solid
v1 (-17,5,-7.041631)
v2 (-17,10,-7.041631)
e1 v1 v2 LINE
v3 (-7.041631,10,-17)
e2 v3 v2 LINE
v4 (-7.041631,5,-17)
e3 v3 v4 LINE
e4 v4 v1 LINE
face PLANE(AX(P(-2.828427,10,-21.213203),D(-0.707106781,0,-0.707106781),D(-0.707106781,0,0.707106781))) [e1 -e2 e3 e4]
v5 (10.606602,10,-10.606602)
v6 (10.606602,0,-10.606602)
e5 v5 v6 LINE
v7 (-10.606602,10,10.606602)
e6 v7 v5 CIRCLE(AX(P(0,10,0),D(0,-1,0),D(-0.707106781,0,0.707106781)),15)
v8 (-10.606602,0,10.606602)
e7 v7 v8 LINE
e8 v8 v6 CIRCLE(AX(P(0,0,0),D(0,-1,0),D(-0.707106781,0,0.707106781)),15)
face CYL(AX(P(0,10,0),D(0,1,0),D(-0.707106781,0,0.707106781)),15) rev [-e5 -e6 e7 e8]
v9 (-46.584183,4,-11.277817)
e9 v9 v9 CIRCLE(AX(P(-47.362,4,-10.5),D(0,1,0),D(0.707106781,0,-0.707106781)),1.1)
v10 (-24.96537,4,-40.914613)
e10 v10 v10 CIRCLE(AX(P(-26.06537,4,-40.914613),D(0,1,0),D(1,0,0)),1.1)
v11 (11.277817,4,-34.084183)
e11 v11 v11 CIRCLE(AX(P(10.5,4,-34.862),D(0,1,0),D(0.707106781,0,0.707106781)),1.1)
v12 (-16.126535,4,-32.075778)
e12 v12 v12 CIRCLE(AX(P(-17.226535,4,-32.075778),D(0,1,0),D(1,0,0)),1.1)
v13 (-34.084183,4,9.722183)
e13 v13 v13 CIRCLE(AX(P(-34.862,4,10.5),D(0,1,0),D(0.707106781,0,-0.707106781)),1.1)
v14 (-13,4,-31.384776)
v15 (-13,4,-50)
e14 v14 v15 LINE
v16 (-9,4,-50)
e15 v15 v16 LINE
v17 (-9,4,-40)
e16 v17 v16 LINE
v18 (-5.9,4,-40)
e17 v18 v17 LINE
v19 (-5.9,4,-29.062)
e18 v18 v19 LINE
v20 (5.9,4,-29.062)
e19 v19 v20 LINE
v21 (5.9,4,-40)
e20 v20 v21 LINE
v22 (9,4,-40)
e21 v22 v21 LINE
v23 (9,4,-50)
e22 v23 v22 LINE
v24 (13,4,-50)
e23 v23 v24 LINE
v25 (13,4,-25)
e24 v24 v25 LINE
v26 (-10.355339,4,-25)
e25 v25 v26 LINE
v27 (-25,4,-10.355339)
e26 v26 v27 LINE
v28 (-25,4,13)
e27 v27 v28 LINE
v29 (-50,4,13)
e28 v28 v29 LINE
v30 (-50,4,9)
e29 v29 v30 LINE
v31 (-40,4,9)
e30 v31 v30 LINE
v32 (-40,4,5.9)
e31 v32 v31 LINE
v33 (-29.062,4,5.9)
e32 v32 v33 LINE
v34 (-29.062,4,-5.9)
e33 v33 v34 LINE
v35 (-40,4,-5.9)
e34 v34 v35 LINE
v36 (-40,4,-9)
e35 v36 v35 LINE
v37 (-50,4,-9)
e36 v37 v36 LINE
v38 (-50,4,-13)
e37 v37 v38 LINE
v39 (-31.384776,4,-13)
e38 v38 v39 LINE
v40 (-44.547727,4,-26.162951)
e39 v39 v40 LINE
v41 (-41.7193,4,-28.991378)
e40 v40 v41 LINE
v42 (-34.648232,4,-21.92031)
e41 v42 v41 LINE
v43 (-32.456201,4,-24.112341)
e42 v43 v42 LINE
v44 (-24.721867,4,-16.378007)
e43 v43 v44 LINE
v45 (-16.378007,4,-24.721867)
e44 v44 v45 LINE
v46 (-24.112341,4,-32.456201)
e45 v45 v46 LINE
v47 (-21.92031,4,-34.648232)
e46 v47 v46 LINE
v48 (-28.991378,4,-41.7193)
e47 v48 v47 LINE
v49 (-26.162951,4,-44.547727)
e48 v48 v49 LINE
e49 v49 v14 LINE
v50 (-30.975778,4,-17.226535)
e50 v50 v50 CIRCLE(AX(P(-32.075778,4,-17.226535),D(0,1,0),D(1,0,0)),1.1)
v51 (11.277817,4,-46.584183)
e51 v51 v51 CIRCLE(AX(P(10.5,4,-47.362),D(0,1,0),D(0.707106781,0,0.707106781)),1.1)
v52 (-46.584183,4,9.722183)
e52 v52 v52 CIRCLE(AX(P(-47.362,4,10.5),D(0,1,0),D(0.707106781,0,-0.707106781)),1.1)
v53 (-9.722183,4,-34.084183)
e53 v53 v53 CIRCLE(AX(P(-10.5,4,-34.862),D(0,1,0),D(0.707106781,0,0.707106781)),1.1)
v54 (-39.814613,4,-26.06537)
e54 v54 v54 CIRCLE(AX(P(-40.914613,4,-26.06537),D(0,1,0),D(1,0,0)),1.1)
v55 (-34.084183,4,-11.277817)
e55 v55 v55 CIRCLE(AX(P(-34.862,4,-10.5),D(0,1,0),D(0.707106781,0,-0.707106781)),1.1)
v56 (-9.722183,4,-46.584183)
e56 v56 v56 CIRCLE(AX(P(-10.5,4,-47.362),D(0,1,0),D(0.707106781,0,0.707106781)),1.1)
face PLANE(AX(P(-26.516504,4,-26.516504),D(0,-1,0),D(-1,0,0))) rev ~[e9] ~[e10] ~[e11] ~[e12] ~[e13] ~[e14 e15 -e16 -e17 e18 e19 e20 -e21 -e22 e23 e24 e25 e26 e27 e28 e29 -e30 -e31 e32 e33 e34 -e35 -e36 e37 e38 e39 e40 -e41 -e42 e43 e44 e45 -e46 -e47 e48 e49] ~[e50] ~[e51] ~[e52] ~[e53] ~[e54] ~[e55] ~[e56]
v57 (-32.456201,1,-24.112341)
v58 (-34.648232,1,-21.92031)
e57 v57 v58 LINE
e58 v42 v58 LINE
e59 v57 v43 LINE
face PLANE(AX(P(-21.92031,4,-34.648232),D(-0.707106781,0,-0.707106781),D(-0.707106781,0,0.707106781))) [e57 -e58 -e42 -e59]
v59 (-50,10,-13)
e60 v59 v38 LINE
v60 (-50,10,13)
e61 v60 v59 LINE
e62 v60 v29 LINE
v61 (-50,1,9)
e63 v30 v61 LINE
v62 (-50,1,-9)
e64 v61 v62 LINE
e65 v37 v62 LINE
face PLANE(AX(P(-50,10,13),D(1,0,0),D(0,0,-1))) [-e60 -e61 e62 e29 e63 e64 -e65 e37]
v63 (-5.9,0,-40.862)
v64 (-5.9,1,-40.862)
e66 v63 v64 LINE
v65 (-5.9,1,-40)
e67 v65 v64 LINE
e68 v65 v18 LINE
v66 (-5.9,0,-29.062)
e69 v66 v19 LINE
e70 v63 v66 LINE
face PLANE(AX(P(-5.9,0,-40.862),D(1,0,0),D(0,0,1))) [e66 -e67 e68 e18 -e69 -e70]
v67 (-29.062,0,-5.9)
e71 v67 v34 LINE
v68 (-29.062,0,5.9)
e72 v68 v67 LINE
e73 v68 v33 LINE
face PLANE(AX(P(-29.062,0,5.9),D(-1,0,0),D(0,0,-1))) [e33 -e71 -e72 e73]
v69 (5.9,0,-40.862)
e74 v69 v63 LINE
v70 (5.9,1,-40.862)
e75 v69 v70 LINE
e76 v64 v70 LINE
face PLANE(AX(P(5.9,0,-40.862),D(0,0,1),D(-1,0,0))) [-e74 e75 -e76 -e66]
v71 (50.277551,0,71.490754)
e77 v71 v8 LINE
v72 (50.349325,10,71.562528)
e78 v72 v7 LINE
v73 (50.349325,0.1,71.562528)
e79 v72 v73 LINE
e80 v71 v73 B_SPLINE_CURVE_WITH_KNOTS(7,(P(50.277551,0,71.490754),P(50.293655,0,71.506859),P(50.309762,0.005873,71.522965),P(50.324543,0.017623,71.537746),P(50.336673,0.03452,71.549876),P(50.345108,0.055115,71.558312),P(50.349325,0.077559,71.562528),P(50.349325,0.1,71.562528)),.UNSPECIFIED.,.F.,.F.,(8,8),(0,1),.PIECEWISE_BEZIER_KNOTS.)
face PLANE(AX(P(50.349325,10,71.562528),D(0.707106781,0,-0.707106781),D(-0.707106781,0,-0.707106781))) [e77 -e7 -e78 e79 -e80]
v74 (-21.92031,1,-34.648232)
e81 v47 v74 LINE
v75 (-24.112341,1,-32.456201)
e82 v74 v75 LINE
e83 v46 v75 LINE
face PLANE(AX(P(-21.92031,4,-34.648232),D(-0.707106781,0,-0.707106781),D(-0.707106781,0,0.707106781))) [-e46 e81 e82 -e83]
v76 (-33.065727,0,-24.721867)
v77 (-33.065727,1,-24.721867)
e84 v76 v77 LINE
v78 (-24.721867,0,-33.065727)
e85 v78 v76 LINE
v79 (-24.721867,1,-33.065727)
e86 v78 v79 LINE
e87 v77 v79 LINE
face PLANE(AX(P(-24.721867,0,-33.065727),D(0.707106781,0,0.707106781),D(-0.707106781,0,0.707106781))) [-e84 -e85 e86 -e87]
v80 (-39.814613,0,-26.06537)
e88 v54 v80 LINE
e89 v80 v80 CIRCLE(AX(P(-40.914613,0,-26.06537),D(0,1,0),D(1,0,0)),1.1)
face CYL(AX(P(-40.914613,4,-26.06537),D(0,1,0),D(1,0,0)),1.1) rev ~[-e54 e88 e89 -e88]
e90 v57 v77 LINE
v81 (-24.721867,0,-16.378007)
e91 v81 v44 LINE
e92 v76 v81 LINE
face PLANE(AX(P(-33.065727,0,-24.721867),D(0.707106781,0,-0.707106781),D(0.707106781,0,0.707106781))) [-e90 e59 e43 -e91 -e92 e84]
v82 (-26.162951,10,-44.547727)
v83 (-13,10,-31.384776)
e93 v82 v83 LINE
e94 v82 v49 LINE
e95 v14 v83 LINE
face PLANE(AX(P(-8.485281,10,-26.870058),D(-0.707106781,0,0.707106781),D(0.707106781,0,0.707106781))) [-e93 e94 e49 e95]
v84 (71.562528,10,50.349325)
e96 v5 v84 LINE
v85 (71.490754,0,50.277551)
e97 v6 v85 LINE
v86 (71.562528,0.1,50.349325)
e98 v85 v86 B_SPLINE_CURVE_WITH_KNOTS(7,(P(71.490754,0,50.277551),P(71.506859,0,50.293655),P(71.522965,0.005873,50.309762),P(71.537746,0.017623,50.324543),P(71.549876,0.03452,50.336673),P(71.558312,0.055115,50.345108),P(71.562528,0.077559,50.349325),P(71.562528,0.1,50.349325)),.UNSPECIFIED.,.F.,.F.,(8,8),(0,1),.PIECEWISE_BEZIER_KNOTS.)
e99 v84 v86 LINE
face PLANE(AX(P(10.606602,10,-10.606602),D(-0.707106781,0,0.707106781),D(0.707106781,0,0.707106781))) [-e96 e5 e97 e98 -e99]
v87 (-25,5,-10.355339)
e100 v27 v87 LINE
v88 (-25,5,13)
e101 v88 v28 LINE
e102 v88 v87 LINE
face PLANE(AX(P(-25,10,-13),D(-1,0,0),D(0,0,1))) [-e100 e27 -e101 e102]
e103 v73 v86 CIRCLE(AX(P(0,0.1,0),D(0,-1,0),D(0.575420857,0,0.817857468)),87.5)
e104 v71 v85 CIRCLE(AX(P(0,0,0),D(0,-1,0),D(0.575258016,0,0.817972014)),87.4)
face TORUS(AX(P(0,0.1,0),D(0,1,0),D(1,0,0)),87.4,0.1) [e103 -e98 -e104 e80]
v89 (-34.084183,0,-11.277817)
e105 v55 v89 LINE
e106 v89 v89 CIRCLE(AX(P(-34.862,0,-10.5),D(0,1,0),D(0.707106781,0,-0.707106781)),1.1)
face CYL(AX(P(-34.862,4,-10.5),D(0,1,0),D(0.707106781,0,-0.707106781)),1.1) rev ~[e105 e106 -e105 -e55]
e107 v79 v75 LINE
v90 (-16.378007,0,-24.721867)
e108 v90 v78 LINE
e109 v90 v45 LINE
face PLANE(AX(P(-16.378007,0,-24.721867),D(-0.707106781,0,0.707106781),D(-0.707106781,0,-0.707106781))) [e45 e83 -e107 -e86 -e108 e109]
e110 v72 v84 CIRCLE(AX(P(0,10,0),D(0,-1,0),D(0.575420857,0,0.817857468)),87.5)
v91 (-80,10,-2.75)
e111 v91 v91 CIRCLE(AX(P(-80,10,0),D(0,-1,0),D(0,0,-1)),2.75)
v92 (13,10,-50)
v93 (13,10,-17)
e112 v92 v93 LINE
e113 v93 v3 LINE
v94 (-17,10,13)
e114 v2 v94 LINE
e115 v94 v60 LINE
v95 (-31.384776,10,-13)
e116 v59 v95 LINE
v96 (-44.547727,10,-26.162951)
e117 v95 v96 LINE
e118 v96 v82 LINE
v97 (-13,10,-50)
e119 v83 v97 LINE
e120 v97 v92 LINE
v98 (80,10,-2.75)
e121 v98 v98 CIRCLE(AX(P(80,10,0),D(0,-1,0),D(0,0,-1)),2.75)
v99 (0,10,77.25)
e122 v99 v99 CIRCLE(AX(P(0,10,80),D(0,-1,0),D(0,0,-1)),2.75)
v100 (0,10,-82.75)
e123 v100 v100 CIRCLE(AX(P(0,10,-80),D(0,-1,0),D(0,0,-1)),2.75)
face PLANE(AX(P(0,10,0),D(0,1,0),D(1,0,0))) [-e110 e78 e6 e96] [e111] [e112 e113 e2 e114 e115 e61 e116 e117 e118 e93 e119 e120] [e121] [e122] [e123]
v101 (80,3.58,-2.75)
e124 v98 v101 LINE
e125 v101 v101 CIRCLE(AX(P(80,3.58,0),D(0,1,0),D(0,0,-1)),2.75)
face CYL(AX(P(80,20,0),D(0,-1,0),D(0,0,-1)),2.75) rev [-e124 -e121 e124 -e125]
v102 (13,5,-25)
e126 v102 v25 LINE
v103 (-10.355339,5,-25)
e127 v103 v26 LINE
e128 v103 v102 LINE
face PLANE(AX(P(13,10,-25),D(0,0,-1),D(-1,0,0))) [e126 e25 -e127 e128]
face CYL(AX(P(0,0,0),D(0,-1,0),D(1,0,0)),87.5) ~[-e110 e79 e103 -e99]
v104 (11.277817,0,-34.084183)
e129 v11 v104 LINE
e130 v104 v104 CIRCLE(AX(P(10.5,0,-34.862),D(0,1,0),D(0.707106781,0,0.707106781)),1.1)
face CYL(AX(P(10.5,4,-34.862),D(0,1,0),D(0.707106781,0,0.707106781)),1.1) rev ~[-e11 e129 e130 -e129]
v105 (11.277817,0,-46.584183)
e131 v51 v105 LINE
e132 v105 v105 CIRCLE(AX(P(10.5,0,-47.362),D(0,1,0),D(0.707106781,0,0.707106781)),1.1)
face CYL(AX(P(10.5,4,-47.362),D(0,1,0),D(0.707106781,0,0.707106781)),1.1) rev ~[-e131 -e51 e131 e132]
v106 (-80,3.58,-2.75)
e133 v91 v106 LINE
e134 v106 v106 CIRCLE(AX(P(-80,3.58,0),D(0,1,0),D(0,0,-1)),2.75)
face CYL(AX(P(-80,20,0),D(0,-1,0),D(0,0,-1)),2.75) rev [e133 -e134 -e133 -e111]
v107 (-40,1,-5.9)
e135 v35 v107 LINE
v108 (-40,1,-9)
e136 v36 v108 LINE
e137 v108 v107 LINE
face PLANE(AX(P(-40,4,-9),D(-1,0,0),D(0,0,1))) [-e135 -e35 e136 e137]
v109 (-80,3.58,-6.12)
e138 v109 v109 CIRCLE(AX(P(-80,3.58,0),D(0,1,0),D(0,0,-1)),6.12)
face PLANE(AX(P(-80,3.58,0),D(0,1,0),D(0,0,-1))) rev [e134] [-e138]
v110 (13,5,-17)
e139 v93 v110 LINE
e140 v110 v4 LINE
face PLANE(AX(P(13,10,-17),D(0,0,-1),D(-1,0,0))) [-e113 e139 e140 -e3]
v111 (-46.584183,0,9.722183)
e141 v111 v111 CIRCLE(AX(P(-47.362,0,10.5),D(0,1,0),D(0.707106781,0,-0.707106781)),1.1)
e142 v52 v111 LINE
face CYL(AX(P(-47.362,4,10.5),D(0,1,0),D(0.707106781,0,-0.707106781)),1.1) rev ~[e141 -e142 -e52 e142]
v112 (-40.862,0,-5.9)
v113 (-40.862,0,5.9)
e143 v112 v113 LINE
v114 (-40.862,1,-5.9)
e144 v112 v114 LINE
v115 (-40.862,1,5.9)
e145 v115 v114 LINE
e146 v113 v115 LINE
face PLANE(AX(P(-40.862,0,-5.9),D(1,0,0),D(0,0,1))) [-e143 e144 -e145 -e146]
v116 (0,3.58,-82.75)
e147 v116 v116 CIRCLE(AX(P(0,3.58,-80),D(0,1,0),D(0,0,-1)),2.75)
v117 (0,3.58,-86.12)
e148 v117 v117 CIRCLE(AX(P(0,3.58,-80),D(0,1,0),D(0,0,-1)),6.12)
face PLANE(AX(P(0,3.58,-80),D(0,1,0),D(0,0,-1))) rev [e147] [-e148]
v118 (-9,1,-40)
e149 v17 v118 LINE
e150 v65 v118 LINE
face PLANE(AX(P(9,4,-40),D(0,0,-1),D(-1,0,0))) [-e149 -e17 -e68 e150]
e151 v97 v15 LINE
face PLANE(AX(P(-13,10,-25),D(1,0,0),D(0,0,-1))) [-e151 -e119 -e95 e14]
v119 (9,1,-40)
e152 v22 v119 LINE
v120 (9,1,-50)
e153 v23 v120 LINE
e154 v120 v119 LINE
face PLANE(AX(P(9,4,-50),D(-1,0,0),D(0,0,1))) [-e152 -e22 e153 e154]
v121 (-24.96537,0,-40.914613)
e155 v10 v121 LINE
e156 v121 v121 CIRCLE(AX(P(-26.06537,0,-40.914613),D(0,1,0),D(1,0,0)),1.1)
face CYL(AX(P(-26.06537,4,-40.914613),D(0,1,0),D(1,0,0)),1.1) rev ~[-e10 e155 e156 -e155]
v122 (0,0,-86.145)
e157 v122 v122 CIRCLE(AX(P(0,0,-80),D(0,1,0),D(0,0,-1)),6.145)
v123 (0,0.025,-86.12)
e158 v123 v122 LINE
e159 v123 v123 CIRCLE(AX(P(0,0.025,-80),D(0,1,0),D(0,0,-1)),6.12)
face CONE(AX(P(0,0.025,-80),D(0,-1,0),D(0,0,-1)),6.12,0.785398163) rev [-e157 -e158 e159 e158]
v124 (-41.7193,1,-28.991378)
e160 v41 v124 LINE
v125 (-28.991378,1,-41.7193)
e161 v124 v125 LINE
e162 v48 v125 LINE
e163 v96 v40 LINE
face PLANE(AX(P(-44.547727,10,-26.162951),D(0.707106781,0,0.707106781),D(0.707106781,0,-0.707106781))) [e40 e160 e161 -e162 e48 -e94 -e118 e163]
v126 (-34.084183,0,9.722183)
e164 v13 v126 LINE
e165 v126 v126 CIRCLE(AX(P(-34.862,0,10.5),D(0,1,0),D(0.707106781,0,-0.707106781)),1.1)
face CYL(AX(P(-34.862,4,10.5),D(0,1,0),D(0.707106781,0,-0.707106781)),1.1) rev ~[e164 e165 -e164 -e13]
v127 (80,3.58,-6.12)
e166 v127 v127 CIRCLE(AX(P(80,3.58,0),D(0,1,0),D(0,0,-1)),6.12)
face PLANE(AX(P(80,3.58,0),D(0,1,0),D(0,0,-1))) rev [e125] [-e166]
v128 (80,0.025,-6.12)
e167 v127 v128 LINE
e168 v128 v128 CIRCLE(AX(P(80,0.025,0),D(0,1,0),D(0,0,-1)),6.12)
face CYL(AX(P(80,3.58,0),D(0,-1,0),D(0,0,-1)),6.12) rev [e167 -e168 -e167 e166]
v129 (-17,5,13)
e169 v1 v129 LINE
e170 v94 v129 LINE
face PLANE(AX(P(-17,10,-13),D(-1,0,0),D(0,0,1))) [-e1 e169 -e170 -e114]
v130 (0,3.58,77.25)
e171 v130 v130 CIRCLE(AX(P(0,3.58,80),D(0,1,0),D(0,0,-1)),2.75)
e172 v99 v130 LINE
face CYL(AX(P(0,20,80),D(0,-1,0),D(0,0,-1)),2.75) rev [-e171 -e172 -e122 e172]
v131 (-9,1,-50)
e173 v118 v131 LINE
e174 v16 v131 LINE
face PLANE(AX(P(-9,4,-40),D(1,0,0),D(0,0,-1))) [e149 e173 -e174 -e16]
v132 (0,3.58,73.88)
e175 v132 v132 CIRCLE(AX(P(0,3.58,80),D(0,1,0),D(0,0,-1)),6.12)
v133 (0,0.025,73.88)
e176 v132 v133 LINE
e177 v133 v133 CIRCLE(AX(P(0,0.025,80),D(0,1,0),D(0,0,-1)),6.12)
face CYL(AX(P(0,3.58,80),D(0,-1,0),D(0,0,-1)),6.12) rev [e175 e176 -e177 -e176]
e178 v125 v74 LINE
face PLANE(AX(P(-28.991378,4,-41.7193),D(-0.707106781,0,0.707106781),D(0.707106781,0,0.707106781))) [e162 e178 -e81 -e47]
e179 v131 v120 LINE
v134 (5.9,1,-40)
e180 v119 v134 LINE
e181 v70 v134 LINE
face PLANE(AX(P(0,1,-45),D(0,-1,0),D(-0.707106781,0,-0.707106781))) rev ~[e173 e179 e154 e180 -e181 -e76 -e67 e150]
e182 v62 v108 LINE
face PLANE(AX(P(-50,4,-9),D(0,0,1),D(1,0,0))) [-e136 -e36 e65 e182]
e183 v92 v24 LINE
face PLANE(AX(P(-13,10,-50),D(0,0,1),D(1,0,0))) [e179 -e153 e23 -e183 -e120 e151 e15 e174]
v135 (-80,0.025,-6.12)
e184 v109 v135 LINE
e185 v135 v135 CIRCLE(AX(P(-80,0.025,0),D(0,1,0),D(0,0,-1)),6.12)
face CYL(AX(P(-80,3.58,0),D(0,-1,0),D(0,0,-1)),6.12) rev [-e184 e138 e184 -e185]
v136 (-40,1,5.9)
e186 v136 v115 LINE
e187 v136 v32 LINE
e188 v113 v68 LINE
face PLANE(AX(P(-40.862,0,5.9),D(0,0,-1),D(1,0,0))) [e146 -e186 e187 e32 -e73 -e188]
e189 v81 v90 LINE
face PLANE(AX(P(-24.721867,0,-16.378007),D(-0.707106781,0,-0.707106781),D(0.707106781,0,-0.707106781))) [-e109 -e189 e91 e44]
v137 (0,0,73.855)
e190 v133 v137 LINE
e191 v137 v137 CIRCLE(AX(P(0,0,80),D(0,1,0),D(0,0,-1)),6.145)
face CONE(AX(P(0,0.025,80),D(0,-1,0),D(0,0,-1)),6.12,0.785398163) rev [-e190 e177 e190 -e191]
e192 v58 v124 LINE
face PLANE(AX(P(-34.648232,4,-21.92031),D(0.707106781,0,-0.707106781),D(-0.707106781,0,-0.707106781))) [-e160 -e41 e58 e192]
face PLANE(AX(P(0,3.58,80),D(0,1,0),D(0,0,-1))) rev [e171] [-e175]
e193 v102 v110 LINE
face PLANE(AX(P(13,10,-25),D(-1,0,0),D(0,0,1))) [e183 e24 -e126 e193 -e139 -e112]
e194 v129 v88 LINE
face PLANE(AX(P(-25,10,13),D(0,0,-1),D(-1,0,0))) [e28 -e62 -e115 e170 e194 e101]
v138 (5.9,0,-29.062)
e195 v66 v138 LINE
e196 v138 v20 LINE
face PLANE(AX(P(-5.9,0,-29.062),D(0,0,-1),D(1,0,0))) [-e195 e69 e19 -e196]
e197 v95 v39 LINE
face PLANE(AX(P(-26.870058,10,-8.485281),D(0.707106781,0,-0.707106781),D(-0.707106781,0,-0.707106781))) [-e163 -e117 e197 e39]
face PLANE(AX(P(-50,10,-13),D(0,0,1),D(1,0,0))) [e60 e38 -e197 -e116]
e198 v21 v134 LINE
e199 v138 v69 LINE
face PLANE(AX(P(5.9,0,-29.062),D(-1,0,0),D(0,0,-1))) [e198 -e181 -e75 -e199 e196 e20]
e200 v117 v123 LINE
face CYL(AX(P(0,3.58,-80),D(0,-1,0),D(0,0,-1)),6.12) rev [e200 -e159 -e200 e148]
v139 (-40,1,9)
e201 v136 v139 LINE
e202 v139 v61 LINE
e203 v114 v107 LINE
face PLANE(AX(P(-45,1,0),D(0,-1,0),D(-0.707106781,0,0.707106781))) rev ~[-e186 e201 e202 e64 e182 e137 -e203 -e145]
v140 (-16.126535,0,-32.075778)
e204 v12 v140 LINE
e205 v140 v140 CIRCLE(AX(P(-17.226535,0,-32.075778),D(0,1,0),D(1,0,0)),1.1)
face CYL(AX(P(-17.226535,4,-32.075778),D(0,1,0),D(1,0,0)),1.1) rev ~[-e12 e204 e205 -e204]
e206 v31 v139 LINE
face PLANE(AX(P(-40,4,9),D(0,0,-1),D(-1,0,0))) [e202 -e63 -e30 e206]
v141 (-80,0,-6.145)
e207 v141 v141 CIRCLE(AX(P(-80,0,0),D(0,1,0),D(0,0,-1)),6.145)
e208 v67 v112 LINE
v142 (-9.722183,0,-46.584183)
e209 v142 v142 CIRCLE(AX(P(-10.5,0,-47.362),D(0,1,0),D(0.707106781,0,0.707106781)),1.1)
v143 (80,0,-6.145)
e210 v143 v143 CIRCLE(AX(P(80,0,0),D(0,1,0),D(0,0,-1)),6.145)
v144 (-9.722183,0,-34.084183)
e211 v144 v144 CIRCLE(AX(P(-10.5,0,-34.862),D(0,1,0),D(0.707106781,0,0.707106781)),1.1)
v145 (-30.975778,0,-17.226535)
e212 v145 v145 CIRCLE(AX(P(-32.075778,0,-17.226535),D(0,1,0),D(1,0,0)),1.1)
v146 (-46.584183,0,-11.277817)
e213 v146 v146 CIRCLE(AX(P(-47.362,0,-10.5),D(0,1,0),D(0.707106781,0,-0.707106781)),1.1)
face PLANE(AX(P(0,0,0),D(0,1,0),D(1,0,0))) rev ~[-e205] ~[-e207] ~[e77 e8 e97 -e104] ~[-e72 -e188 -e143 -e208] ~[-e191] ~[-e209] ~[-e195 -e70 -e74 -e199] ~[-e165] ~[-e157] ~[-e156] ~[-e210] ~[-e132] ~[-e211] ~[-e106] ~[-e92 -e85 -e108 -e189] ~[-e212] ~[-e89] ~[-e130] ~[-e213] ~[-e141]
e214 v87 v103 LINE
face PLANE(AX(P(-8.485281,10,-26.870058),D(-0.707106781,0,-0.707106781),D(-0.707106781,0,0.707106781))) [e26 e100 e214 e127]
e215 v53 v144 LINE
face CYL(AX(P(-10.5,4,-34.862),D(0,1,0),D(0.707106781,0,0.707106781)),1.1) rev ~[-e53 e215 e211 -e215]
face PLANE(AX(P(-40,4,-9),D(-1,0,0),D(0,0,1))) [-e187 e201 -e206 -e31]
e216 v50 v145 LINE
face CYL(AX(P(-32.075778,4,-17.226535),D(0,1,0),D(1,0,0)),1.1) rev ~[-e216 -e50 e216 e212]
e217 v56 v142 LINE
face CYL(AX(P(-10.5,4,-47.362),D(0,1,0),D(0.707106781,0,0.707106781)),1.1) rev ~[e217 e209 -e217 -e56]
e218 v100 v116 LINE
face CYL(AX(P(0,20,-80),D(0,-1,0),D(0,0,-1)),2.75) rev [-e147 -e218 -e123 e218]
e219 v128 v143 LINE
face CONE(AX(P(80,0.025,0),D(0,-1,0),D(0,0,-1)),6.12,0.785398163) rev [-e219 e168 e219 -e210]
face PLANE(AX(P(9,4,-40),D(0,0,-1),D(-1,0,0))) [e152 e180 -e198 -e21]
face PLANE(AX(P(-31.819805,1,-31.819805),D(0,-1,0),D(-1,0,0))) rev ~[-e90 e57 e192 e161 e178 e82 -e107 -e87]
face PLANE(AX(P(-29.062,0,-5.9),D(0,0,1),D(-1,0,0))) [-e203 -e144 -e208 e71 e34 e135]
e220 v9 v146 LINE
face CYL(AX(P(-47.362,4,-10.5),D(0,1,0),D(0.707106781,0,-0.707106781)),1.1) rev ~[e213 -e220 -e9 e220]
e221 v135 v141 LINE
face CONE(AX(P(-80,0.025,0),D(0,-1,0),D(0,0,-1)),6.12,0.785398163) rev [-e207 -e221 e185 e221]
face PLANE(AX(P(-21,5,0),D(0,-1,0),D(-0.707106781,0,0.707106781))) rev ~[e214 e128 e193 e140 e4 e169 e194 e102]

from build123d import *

# Parameters (mm, degrees)
SKETCH1_R                              = 87.5
BOSS_EXTRUDE1_DEPTH                    = 10
SKETCH2_R                              = 7.5
BOSS_EXTRUDE2_DEPTH                    = 80
CBORE_FOR_M5_HEX_HEAD_BOLT1_AT_2_COUNT = 2
CBORE_FOR_M5_HEX_HEAD_BOLT1_AT_2_PITCH = 113.13708499
CBORE_FOR_M5_HEX_HEAD_BOLT1_AT_3_COUNT = 2
CBORE_FOR_M5_HEX_HEAD_BOLT1_AT_3_PITCH = 160
CBORE_FOR_M5_HEX_HEAD_BOLT1_AT_4_COUNT = 2
CBORE_FOR_M5_HEX_HEAD_BOLT1_AT_4_PITCH = 113.13708499
SKETCH5_R                              = 87.5
CUT_EXTRUDE1_DEPTH                     = 80
FILLET1_R                              = 0.1
CUT_EXTRUDE2_DEPTH                     = 10
CUT_EXTRUDE3_DEPTH                     = 6
CUT_EXTRUDE4_DEPTH                     = 6
CUT_EXTRUDE5_DEPTH                     = 3
SKETCH11_R                             = 1.1
CUT_EXTRUDE6_DEPTH                     = 10
CUT_EXTRUDE7_DEPTH                     = 5
CIRPATTERN1_COUNT                      = 2
CIRPATTERN1_ANGLE                      = 45
CIRPATTERN1_THE_OTHER_WAY_COUNT        = 2
CIRPATTERN1_THE_OTHER_WAY_ANGLE        = 45


with BuildPart() as part:
    # Sketch1 → Boss-Extrude1 (new body)
    with BuildSketch(Plane(origin=(0, 0, 0), x_dir=(1, 0, 0), z_dir=(0, 1, 0))):
        Circle(SKETCH1_R)
    extrude(amount=BOSS_EXTRUDE1_DEPTH)

    # Sketch2 → Boss-Extrude2 (add)
    with BuildSketch(Plane(origin=(0, 10, 0), x_dir=(1, 0, 0), z_dir=(0, 1, 0))):
        with Locations((0, -80)):
            Circle(SKETCH2_R)
        with Locations((-80, 0)):
            Circle(SKETCH2_R)
        with Locations((0, 80)):
            Circle(SKETCH2_R)
        with Locations((80, 0)):
            Circle(SKETCH2_R)
    extrude(amount=BOSS_EXTRUDE2_DEPTH)

    # Sketch4 → CBORE for M5 Hex Head Bolt1 (revolve, cut)
    with BuildSketch(Plane(origin=(80, 0, 0), x_dir=(0, 0, -1), z_dir=(1, 0, 0))):
        Polygon((0, 0), (0, 21.652366702), (2.75, 20), (2.75, 3.58), (6.12, 3.58), (6.12, 0.025), (6.145, 0), align=None)
    cbore_for_m5_hex_head_bolt1 = revolve(axis=Axis((80, -6.35, 0), (0, 1, 0)), mode=Mode.SUBTRACT)

    # CBORE for M5 Hex Head Bolt1 at 2: CBORE for M5 Hex Head Bolt1 ×2
    with Locations(*[Vector(-0.707106781, 0, -0.707106781) * (i * CBORE_FOR_M5_HEX_HEAD_BOLT1_AT_2_PITCH) for i in range(1, CBORE_FOR_M5_HEX_HEAD_BOLT1_AT_2_COUNT)]):
        add(cbore_for_m5_hex_head_bolt1, mode=Mode.SUBTRACT)

    # CBORE for M5 Hex Head Bolt1 at 3: CBORE for M5 Hex Head Bolt1 ×2
    with Locations(*[(-i * CBORE_FOR_M5_HEX_HEAD_BOLT1_AT_3_PITCH, 0, 0) for i in range(1, CBORE_FOR_M5_HEX_HEAD_BOLT1_AT_3_COUNT)]):
        add(cbore_for_m5_hex_head_bolt1, mode=Mode.SUBTRACT)

    # CBORE for M5 Hex Head Bolt1 at 4: CBORE for M5 Hex Head Bolt1 ×2
    with Locations(*[Vector(-0.707106781, 0, 0.707106781) * (i * CBORE_FOR_M5_HEX_HEAD_BOLT1_AT_4_PITCH) for i in range(1, CBORE_FOR_M5_HEX_HEAD_BOLT1_AT_4_COUNT)]):
        add(cbore_for_m5_hex_head_bolt1, mode=Mode.SUBTRACT)

    # Sketch5 → Cut-Extrude1 (cut)
    with BuildSketch(Plane(origin=(0, 10, 0), x_dir=(1, 0, 0), z_dir=(0, 1, 0))):
        Circle(SKETCH5_R)
    extrude(amount=CUT_EXTRUDE1_DEPTH, mode=Mode.SUBTRACT)

    # Fillet1
    fillet1_edges = [part.edges().sort_by_distance(p)[0] for p in [
        (-87.5, 0, 0),
    ]]
    fillet(fillet1_edges, radius=FILLET1_R)

    # Sketch6 → Cut-Extrude2 (cut)
    with BuildSketch(Plane(origin=(0, 10, 0), x_dir=(1, 0, 0), z_dir=(0, 1, 0))):
        with BuildLine():
            Line((10.606601718, 10.606601718), (71.562528419, -50.349324983))
            ThreePointArc((71.562528419, -50.349324983), (61.871843354, -61.871843354), (50.349324983, -71.562528419))
            Line((50.349324983, -71.562528419), (-10.606601718, -10.606601718))
            ThreePointArc((-10.606601718, -10.606601718), (-10.606601718, 10.606601718), (10.606601718, 10.606601718))
        make_face()
    extrude(amount=-CUT_EXTRUDE2_DEPTH, mode=Mode.SUBTRACT)

    # Sketch7 → Cut-Extrude3 (cut)
    with BuildSketch(Plane(origin=(0, 10, 0), x_dir=(1, 0, 0), z_dir=(0, 1, 0))):
        Polygon((-8.485281374, 26.870057685), (-26.870057685, 8.485281374), (-44.547727215, 26.162950904), (-26.162950904, 44.547727215), align=None)
    cut_extrude3 = extrude(amount=-CUT_EXTRUDE3_DEPTH, mode=Mode.SUBTRACT)

    # Sketch8 → Cut-Extrude4 (cut)
    with BuildSketch(Plane.XZ):
        Polygon((-24.721867284, -16.378007266), (-16.378007266, -24.721867284), (-24.721867284, -33.065727302), (-33.065727302, -24.721867284), align=None)
    cut_extrude4 = extrude(amount=-CUT_EXTRUDE4_DEPTH, mode=Mode.SUBTRACT)

    # Sketch10 → Cut-Extrude5 (cut)
    with BuildSketch(Plane(origin=(0, 4, 0), x_dir=(1, 0, 0), z_dir=(0, 1, 0))):
        Polygon((-41.71930009, 28.991378029), (-28.991378029, 41.71930009), (-21.920310217, 34.648232278), (-34.648232278, 21.920310217), align=None)
    cut_extrude5 = extrude(amount=-CUT_EXTRUDE5_DEPTH, mode=Mode.SUBTRACT)

    # Sketch11 → Cut-Extrude6 (cut)
    with BuildSketch(Plane(origin=(0, 4, 0), x_dir=(1, 0, 0), z_dir=(0, 1, 0))):
        with Locations((-26.065370168, 40.914612573)):
            Circle(SKETCH11_R)
        with Locations((-40.914612573, 26.065370168)):
            Circle(SKETCH11_R)
        with Locations((-32.075777808, 17.226535403)):
            Circle(SKETCH11_R)
        with Locations((-17.226535403, 32.075777808)):
            Circle(SKETCH11_R)
    cut_extrude6 = extrude(amount=-CUT_EXTRUDE6_DEPTH, mode=Mode.SUBTRACT)

    # Sketch12 → Cut-Extrude7 (cut)
    with BuildSketch(Plane(origin=(0, 10, 0), x_dir=(1, 0, 0), z_dir=(0, 1, 0))):
        Polygon((-26.870057685, 8.485281374), (-8.485281374, 26.870057685), (-2.828427125, 21.213203436), (-21.213203436, 2.828427125), align=None)
    cut_extrude7 = extrude(amount=-CUT_EXTRUDE7_DEPTH, mode=Mode.SUBTRACT)

    # CirPattern1: Cut-Extrude3, Cut-Extrude4, Cut-Extrude5, Cut-Extrude6, Cut-Extrude7 ×2 about axis
    cirpattern1_axis = Axis((0, 0, 0), (0, 1, 0))
    for i in range(1, CIRPATTERN1_COUNT):
        add(cut_extrude3.rotate(cirpattern1_axis, i * CIRPATTERN1_ANGLE / (CIRPATTERN1_COUNT - 1)), mode=Mode.SUBTRACT)
        add(cut_extrude4.rotate(cirpattern1_axis, i * CIRPATTERN1_ANGLE / (CIRPATTERN1_COUNT - 1)), mode=Mode.SUBTRACT)
        add(cut_extrude5.rotate(cirpattern1_axis, i * CIRPATTERN1_ANGLE / (CIRPATTERN1_COUNT - 1)), mode=Mode.SUBTRACT)
        add(cut_extrude6.rotate(cirpattern1_axis, i * CIRPATTERN1_ANGLE / (CIRPATTERN1_COUNT - 1)), mode=Mode.SUBTRACT)
        add(cut_extrude7.rotate(cirpattern1_axis, i * CIRPATTERN1_ANGLE / (CIRPATTERN1_COUNT - 1)), mode=Mode.SUBTRACT)

    # CirPattern1 the other way: Cut-Extrude3, Cut-Extrude4, Cut-Extrude5, Cut-Extrude6, Cut-Extrude7 ×2 about axis
    cirpattern1_the_other_way_axis = Axis((0, 0, 0), (0, -1, 0))
    for i in range(1, CIRPATTERN1_THE_OTHER_WAY_COUNT):
        add(cut_extrude3.rotate(cirpattern1_the_other_way_axis, i * CIRPATTERN1_THE_OTHER_WAY_ANGLE / (CIRPATTERN1_THE_OTHER_WAY_COUNT - 1)), mode=Mode.SUBTRACT)
        add(cut_extrude4.rotate(cirpattern1_the_other_way_axis, i * CIRPATTERN1_THE_OTHER_WAY_ANGLE / (CIRPATTERN1_THE_OTHER_WAY_COUNT - 1)), mode=Mode.SUBTRACT)
        add(cut_extrude5.rotate(cirpattern1_the_other_way_axis, i * CIRPATTERN1_THE_OTHER_WAY_ANGLE / (CIRPATTERN1_THE_OTHER_WAY_COUNT - 1)), mode=Mode.SUBTRACT)
        add(cut_extrude6.rotate(cirpattern1_the_other_way_axis, i * CIRPATTERN1_THE_OTHER_WAY_ANGLE / (CIRPATTERN1_THE_OTHER_WAY_COUNT - 1)), mode=Mode.SUBTRACT)
        add(cut_extrude7.rotate(cirpattern1_the_other_way_axis, i * CIRPATTERN1_THE_OTHER_WAY_ANGLE / (CIRPATTERN1_THE_OTHER_WAY_COUNT - 1)), mode=Mode.SUBTRACT)


solid = part.part
